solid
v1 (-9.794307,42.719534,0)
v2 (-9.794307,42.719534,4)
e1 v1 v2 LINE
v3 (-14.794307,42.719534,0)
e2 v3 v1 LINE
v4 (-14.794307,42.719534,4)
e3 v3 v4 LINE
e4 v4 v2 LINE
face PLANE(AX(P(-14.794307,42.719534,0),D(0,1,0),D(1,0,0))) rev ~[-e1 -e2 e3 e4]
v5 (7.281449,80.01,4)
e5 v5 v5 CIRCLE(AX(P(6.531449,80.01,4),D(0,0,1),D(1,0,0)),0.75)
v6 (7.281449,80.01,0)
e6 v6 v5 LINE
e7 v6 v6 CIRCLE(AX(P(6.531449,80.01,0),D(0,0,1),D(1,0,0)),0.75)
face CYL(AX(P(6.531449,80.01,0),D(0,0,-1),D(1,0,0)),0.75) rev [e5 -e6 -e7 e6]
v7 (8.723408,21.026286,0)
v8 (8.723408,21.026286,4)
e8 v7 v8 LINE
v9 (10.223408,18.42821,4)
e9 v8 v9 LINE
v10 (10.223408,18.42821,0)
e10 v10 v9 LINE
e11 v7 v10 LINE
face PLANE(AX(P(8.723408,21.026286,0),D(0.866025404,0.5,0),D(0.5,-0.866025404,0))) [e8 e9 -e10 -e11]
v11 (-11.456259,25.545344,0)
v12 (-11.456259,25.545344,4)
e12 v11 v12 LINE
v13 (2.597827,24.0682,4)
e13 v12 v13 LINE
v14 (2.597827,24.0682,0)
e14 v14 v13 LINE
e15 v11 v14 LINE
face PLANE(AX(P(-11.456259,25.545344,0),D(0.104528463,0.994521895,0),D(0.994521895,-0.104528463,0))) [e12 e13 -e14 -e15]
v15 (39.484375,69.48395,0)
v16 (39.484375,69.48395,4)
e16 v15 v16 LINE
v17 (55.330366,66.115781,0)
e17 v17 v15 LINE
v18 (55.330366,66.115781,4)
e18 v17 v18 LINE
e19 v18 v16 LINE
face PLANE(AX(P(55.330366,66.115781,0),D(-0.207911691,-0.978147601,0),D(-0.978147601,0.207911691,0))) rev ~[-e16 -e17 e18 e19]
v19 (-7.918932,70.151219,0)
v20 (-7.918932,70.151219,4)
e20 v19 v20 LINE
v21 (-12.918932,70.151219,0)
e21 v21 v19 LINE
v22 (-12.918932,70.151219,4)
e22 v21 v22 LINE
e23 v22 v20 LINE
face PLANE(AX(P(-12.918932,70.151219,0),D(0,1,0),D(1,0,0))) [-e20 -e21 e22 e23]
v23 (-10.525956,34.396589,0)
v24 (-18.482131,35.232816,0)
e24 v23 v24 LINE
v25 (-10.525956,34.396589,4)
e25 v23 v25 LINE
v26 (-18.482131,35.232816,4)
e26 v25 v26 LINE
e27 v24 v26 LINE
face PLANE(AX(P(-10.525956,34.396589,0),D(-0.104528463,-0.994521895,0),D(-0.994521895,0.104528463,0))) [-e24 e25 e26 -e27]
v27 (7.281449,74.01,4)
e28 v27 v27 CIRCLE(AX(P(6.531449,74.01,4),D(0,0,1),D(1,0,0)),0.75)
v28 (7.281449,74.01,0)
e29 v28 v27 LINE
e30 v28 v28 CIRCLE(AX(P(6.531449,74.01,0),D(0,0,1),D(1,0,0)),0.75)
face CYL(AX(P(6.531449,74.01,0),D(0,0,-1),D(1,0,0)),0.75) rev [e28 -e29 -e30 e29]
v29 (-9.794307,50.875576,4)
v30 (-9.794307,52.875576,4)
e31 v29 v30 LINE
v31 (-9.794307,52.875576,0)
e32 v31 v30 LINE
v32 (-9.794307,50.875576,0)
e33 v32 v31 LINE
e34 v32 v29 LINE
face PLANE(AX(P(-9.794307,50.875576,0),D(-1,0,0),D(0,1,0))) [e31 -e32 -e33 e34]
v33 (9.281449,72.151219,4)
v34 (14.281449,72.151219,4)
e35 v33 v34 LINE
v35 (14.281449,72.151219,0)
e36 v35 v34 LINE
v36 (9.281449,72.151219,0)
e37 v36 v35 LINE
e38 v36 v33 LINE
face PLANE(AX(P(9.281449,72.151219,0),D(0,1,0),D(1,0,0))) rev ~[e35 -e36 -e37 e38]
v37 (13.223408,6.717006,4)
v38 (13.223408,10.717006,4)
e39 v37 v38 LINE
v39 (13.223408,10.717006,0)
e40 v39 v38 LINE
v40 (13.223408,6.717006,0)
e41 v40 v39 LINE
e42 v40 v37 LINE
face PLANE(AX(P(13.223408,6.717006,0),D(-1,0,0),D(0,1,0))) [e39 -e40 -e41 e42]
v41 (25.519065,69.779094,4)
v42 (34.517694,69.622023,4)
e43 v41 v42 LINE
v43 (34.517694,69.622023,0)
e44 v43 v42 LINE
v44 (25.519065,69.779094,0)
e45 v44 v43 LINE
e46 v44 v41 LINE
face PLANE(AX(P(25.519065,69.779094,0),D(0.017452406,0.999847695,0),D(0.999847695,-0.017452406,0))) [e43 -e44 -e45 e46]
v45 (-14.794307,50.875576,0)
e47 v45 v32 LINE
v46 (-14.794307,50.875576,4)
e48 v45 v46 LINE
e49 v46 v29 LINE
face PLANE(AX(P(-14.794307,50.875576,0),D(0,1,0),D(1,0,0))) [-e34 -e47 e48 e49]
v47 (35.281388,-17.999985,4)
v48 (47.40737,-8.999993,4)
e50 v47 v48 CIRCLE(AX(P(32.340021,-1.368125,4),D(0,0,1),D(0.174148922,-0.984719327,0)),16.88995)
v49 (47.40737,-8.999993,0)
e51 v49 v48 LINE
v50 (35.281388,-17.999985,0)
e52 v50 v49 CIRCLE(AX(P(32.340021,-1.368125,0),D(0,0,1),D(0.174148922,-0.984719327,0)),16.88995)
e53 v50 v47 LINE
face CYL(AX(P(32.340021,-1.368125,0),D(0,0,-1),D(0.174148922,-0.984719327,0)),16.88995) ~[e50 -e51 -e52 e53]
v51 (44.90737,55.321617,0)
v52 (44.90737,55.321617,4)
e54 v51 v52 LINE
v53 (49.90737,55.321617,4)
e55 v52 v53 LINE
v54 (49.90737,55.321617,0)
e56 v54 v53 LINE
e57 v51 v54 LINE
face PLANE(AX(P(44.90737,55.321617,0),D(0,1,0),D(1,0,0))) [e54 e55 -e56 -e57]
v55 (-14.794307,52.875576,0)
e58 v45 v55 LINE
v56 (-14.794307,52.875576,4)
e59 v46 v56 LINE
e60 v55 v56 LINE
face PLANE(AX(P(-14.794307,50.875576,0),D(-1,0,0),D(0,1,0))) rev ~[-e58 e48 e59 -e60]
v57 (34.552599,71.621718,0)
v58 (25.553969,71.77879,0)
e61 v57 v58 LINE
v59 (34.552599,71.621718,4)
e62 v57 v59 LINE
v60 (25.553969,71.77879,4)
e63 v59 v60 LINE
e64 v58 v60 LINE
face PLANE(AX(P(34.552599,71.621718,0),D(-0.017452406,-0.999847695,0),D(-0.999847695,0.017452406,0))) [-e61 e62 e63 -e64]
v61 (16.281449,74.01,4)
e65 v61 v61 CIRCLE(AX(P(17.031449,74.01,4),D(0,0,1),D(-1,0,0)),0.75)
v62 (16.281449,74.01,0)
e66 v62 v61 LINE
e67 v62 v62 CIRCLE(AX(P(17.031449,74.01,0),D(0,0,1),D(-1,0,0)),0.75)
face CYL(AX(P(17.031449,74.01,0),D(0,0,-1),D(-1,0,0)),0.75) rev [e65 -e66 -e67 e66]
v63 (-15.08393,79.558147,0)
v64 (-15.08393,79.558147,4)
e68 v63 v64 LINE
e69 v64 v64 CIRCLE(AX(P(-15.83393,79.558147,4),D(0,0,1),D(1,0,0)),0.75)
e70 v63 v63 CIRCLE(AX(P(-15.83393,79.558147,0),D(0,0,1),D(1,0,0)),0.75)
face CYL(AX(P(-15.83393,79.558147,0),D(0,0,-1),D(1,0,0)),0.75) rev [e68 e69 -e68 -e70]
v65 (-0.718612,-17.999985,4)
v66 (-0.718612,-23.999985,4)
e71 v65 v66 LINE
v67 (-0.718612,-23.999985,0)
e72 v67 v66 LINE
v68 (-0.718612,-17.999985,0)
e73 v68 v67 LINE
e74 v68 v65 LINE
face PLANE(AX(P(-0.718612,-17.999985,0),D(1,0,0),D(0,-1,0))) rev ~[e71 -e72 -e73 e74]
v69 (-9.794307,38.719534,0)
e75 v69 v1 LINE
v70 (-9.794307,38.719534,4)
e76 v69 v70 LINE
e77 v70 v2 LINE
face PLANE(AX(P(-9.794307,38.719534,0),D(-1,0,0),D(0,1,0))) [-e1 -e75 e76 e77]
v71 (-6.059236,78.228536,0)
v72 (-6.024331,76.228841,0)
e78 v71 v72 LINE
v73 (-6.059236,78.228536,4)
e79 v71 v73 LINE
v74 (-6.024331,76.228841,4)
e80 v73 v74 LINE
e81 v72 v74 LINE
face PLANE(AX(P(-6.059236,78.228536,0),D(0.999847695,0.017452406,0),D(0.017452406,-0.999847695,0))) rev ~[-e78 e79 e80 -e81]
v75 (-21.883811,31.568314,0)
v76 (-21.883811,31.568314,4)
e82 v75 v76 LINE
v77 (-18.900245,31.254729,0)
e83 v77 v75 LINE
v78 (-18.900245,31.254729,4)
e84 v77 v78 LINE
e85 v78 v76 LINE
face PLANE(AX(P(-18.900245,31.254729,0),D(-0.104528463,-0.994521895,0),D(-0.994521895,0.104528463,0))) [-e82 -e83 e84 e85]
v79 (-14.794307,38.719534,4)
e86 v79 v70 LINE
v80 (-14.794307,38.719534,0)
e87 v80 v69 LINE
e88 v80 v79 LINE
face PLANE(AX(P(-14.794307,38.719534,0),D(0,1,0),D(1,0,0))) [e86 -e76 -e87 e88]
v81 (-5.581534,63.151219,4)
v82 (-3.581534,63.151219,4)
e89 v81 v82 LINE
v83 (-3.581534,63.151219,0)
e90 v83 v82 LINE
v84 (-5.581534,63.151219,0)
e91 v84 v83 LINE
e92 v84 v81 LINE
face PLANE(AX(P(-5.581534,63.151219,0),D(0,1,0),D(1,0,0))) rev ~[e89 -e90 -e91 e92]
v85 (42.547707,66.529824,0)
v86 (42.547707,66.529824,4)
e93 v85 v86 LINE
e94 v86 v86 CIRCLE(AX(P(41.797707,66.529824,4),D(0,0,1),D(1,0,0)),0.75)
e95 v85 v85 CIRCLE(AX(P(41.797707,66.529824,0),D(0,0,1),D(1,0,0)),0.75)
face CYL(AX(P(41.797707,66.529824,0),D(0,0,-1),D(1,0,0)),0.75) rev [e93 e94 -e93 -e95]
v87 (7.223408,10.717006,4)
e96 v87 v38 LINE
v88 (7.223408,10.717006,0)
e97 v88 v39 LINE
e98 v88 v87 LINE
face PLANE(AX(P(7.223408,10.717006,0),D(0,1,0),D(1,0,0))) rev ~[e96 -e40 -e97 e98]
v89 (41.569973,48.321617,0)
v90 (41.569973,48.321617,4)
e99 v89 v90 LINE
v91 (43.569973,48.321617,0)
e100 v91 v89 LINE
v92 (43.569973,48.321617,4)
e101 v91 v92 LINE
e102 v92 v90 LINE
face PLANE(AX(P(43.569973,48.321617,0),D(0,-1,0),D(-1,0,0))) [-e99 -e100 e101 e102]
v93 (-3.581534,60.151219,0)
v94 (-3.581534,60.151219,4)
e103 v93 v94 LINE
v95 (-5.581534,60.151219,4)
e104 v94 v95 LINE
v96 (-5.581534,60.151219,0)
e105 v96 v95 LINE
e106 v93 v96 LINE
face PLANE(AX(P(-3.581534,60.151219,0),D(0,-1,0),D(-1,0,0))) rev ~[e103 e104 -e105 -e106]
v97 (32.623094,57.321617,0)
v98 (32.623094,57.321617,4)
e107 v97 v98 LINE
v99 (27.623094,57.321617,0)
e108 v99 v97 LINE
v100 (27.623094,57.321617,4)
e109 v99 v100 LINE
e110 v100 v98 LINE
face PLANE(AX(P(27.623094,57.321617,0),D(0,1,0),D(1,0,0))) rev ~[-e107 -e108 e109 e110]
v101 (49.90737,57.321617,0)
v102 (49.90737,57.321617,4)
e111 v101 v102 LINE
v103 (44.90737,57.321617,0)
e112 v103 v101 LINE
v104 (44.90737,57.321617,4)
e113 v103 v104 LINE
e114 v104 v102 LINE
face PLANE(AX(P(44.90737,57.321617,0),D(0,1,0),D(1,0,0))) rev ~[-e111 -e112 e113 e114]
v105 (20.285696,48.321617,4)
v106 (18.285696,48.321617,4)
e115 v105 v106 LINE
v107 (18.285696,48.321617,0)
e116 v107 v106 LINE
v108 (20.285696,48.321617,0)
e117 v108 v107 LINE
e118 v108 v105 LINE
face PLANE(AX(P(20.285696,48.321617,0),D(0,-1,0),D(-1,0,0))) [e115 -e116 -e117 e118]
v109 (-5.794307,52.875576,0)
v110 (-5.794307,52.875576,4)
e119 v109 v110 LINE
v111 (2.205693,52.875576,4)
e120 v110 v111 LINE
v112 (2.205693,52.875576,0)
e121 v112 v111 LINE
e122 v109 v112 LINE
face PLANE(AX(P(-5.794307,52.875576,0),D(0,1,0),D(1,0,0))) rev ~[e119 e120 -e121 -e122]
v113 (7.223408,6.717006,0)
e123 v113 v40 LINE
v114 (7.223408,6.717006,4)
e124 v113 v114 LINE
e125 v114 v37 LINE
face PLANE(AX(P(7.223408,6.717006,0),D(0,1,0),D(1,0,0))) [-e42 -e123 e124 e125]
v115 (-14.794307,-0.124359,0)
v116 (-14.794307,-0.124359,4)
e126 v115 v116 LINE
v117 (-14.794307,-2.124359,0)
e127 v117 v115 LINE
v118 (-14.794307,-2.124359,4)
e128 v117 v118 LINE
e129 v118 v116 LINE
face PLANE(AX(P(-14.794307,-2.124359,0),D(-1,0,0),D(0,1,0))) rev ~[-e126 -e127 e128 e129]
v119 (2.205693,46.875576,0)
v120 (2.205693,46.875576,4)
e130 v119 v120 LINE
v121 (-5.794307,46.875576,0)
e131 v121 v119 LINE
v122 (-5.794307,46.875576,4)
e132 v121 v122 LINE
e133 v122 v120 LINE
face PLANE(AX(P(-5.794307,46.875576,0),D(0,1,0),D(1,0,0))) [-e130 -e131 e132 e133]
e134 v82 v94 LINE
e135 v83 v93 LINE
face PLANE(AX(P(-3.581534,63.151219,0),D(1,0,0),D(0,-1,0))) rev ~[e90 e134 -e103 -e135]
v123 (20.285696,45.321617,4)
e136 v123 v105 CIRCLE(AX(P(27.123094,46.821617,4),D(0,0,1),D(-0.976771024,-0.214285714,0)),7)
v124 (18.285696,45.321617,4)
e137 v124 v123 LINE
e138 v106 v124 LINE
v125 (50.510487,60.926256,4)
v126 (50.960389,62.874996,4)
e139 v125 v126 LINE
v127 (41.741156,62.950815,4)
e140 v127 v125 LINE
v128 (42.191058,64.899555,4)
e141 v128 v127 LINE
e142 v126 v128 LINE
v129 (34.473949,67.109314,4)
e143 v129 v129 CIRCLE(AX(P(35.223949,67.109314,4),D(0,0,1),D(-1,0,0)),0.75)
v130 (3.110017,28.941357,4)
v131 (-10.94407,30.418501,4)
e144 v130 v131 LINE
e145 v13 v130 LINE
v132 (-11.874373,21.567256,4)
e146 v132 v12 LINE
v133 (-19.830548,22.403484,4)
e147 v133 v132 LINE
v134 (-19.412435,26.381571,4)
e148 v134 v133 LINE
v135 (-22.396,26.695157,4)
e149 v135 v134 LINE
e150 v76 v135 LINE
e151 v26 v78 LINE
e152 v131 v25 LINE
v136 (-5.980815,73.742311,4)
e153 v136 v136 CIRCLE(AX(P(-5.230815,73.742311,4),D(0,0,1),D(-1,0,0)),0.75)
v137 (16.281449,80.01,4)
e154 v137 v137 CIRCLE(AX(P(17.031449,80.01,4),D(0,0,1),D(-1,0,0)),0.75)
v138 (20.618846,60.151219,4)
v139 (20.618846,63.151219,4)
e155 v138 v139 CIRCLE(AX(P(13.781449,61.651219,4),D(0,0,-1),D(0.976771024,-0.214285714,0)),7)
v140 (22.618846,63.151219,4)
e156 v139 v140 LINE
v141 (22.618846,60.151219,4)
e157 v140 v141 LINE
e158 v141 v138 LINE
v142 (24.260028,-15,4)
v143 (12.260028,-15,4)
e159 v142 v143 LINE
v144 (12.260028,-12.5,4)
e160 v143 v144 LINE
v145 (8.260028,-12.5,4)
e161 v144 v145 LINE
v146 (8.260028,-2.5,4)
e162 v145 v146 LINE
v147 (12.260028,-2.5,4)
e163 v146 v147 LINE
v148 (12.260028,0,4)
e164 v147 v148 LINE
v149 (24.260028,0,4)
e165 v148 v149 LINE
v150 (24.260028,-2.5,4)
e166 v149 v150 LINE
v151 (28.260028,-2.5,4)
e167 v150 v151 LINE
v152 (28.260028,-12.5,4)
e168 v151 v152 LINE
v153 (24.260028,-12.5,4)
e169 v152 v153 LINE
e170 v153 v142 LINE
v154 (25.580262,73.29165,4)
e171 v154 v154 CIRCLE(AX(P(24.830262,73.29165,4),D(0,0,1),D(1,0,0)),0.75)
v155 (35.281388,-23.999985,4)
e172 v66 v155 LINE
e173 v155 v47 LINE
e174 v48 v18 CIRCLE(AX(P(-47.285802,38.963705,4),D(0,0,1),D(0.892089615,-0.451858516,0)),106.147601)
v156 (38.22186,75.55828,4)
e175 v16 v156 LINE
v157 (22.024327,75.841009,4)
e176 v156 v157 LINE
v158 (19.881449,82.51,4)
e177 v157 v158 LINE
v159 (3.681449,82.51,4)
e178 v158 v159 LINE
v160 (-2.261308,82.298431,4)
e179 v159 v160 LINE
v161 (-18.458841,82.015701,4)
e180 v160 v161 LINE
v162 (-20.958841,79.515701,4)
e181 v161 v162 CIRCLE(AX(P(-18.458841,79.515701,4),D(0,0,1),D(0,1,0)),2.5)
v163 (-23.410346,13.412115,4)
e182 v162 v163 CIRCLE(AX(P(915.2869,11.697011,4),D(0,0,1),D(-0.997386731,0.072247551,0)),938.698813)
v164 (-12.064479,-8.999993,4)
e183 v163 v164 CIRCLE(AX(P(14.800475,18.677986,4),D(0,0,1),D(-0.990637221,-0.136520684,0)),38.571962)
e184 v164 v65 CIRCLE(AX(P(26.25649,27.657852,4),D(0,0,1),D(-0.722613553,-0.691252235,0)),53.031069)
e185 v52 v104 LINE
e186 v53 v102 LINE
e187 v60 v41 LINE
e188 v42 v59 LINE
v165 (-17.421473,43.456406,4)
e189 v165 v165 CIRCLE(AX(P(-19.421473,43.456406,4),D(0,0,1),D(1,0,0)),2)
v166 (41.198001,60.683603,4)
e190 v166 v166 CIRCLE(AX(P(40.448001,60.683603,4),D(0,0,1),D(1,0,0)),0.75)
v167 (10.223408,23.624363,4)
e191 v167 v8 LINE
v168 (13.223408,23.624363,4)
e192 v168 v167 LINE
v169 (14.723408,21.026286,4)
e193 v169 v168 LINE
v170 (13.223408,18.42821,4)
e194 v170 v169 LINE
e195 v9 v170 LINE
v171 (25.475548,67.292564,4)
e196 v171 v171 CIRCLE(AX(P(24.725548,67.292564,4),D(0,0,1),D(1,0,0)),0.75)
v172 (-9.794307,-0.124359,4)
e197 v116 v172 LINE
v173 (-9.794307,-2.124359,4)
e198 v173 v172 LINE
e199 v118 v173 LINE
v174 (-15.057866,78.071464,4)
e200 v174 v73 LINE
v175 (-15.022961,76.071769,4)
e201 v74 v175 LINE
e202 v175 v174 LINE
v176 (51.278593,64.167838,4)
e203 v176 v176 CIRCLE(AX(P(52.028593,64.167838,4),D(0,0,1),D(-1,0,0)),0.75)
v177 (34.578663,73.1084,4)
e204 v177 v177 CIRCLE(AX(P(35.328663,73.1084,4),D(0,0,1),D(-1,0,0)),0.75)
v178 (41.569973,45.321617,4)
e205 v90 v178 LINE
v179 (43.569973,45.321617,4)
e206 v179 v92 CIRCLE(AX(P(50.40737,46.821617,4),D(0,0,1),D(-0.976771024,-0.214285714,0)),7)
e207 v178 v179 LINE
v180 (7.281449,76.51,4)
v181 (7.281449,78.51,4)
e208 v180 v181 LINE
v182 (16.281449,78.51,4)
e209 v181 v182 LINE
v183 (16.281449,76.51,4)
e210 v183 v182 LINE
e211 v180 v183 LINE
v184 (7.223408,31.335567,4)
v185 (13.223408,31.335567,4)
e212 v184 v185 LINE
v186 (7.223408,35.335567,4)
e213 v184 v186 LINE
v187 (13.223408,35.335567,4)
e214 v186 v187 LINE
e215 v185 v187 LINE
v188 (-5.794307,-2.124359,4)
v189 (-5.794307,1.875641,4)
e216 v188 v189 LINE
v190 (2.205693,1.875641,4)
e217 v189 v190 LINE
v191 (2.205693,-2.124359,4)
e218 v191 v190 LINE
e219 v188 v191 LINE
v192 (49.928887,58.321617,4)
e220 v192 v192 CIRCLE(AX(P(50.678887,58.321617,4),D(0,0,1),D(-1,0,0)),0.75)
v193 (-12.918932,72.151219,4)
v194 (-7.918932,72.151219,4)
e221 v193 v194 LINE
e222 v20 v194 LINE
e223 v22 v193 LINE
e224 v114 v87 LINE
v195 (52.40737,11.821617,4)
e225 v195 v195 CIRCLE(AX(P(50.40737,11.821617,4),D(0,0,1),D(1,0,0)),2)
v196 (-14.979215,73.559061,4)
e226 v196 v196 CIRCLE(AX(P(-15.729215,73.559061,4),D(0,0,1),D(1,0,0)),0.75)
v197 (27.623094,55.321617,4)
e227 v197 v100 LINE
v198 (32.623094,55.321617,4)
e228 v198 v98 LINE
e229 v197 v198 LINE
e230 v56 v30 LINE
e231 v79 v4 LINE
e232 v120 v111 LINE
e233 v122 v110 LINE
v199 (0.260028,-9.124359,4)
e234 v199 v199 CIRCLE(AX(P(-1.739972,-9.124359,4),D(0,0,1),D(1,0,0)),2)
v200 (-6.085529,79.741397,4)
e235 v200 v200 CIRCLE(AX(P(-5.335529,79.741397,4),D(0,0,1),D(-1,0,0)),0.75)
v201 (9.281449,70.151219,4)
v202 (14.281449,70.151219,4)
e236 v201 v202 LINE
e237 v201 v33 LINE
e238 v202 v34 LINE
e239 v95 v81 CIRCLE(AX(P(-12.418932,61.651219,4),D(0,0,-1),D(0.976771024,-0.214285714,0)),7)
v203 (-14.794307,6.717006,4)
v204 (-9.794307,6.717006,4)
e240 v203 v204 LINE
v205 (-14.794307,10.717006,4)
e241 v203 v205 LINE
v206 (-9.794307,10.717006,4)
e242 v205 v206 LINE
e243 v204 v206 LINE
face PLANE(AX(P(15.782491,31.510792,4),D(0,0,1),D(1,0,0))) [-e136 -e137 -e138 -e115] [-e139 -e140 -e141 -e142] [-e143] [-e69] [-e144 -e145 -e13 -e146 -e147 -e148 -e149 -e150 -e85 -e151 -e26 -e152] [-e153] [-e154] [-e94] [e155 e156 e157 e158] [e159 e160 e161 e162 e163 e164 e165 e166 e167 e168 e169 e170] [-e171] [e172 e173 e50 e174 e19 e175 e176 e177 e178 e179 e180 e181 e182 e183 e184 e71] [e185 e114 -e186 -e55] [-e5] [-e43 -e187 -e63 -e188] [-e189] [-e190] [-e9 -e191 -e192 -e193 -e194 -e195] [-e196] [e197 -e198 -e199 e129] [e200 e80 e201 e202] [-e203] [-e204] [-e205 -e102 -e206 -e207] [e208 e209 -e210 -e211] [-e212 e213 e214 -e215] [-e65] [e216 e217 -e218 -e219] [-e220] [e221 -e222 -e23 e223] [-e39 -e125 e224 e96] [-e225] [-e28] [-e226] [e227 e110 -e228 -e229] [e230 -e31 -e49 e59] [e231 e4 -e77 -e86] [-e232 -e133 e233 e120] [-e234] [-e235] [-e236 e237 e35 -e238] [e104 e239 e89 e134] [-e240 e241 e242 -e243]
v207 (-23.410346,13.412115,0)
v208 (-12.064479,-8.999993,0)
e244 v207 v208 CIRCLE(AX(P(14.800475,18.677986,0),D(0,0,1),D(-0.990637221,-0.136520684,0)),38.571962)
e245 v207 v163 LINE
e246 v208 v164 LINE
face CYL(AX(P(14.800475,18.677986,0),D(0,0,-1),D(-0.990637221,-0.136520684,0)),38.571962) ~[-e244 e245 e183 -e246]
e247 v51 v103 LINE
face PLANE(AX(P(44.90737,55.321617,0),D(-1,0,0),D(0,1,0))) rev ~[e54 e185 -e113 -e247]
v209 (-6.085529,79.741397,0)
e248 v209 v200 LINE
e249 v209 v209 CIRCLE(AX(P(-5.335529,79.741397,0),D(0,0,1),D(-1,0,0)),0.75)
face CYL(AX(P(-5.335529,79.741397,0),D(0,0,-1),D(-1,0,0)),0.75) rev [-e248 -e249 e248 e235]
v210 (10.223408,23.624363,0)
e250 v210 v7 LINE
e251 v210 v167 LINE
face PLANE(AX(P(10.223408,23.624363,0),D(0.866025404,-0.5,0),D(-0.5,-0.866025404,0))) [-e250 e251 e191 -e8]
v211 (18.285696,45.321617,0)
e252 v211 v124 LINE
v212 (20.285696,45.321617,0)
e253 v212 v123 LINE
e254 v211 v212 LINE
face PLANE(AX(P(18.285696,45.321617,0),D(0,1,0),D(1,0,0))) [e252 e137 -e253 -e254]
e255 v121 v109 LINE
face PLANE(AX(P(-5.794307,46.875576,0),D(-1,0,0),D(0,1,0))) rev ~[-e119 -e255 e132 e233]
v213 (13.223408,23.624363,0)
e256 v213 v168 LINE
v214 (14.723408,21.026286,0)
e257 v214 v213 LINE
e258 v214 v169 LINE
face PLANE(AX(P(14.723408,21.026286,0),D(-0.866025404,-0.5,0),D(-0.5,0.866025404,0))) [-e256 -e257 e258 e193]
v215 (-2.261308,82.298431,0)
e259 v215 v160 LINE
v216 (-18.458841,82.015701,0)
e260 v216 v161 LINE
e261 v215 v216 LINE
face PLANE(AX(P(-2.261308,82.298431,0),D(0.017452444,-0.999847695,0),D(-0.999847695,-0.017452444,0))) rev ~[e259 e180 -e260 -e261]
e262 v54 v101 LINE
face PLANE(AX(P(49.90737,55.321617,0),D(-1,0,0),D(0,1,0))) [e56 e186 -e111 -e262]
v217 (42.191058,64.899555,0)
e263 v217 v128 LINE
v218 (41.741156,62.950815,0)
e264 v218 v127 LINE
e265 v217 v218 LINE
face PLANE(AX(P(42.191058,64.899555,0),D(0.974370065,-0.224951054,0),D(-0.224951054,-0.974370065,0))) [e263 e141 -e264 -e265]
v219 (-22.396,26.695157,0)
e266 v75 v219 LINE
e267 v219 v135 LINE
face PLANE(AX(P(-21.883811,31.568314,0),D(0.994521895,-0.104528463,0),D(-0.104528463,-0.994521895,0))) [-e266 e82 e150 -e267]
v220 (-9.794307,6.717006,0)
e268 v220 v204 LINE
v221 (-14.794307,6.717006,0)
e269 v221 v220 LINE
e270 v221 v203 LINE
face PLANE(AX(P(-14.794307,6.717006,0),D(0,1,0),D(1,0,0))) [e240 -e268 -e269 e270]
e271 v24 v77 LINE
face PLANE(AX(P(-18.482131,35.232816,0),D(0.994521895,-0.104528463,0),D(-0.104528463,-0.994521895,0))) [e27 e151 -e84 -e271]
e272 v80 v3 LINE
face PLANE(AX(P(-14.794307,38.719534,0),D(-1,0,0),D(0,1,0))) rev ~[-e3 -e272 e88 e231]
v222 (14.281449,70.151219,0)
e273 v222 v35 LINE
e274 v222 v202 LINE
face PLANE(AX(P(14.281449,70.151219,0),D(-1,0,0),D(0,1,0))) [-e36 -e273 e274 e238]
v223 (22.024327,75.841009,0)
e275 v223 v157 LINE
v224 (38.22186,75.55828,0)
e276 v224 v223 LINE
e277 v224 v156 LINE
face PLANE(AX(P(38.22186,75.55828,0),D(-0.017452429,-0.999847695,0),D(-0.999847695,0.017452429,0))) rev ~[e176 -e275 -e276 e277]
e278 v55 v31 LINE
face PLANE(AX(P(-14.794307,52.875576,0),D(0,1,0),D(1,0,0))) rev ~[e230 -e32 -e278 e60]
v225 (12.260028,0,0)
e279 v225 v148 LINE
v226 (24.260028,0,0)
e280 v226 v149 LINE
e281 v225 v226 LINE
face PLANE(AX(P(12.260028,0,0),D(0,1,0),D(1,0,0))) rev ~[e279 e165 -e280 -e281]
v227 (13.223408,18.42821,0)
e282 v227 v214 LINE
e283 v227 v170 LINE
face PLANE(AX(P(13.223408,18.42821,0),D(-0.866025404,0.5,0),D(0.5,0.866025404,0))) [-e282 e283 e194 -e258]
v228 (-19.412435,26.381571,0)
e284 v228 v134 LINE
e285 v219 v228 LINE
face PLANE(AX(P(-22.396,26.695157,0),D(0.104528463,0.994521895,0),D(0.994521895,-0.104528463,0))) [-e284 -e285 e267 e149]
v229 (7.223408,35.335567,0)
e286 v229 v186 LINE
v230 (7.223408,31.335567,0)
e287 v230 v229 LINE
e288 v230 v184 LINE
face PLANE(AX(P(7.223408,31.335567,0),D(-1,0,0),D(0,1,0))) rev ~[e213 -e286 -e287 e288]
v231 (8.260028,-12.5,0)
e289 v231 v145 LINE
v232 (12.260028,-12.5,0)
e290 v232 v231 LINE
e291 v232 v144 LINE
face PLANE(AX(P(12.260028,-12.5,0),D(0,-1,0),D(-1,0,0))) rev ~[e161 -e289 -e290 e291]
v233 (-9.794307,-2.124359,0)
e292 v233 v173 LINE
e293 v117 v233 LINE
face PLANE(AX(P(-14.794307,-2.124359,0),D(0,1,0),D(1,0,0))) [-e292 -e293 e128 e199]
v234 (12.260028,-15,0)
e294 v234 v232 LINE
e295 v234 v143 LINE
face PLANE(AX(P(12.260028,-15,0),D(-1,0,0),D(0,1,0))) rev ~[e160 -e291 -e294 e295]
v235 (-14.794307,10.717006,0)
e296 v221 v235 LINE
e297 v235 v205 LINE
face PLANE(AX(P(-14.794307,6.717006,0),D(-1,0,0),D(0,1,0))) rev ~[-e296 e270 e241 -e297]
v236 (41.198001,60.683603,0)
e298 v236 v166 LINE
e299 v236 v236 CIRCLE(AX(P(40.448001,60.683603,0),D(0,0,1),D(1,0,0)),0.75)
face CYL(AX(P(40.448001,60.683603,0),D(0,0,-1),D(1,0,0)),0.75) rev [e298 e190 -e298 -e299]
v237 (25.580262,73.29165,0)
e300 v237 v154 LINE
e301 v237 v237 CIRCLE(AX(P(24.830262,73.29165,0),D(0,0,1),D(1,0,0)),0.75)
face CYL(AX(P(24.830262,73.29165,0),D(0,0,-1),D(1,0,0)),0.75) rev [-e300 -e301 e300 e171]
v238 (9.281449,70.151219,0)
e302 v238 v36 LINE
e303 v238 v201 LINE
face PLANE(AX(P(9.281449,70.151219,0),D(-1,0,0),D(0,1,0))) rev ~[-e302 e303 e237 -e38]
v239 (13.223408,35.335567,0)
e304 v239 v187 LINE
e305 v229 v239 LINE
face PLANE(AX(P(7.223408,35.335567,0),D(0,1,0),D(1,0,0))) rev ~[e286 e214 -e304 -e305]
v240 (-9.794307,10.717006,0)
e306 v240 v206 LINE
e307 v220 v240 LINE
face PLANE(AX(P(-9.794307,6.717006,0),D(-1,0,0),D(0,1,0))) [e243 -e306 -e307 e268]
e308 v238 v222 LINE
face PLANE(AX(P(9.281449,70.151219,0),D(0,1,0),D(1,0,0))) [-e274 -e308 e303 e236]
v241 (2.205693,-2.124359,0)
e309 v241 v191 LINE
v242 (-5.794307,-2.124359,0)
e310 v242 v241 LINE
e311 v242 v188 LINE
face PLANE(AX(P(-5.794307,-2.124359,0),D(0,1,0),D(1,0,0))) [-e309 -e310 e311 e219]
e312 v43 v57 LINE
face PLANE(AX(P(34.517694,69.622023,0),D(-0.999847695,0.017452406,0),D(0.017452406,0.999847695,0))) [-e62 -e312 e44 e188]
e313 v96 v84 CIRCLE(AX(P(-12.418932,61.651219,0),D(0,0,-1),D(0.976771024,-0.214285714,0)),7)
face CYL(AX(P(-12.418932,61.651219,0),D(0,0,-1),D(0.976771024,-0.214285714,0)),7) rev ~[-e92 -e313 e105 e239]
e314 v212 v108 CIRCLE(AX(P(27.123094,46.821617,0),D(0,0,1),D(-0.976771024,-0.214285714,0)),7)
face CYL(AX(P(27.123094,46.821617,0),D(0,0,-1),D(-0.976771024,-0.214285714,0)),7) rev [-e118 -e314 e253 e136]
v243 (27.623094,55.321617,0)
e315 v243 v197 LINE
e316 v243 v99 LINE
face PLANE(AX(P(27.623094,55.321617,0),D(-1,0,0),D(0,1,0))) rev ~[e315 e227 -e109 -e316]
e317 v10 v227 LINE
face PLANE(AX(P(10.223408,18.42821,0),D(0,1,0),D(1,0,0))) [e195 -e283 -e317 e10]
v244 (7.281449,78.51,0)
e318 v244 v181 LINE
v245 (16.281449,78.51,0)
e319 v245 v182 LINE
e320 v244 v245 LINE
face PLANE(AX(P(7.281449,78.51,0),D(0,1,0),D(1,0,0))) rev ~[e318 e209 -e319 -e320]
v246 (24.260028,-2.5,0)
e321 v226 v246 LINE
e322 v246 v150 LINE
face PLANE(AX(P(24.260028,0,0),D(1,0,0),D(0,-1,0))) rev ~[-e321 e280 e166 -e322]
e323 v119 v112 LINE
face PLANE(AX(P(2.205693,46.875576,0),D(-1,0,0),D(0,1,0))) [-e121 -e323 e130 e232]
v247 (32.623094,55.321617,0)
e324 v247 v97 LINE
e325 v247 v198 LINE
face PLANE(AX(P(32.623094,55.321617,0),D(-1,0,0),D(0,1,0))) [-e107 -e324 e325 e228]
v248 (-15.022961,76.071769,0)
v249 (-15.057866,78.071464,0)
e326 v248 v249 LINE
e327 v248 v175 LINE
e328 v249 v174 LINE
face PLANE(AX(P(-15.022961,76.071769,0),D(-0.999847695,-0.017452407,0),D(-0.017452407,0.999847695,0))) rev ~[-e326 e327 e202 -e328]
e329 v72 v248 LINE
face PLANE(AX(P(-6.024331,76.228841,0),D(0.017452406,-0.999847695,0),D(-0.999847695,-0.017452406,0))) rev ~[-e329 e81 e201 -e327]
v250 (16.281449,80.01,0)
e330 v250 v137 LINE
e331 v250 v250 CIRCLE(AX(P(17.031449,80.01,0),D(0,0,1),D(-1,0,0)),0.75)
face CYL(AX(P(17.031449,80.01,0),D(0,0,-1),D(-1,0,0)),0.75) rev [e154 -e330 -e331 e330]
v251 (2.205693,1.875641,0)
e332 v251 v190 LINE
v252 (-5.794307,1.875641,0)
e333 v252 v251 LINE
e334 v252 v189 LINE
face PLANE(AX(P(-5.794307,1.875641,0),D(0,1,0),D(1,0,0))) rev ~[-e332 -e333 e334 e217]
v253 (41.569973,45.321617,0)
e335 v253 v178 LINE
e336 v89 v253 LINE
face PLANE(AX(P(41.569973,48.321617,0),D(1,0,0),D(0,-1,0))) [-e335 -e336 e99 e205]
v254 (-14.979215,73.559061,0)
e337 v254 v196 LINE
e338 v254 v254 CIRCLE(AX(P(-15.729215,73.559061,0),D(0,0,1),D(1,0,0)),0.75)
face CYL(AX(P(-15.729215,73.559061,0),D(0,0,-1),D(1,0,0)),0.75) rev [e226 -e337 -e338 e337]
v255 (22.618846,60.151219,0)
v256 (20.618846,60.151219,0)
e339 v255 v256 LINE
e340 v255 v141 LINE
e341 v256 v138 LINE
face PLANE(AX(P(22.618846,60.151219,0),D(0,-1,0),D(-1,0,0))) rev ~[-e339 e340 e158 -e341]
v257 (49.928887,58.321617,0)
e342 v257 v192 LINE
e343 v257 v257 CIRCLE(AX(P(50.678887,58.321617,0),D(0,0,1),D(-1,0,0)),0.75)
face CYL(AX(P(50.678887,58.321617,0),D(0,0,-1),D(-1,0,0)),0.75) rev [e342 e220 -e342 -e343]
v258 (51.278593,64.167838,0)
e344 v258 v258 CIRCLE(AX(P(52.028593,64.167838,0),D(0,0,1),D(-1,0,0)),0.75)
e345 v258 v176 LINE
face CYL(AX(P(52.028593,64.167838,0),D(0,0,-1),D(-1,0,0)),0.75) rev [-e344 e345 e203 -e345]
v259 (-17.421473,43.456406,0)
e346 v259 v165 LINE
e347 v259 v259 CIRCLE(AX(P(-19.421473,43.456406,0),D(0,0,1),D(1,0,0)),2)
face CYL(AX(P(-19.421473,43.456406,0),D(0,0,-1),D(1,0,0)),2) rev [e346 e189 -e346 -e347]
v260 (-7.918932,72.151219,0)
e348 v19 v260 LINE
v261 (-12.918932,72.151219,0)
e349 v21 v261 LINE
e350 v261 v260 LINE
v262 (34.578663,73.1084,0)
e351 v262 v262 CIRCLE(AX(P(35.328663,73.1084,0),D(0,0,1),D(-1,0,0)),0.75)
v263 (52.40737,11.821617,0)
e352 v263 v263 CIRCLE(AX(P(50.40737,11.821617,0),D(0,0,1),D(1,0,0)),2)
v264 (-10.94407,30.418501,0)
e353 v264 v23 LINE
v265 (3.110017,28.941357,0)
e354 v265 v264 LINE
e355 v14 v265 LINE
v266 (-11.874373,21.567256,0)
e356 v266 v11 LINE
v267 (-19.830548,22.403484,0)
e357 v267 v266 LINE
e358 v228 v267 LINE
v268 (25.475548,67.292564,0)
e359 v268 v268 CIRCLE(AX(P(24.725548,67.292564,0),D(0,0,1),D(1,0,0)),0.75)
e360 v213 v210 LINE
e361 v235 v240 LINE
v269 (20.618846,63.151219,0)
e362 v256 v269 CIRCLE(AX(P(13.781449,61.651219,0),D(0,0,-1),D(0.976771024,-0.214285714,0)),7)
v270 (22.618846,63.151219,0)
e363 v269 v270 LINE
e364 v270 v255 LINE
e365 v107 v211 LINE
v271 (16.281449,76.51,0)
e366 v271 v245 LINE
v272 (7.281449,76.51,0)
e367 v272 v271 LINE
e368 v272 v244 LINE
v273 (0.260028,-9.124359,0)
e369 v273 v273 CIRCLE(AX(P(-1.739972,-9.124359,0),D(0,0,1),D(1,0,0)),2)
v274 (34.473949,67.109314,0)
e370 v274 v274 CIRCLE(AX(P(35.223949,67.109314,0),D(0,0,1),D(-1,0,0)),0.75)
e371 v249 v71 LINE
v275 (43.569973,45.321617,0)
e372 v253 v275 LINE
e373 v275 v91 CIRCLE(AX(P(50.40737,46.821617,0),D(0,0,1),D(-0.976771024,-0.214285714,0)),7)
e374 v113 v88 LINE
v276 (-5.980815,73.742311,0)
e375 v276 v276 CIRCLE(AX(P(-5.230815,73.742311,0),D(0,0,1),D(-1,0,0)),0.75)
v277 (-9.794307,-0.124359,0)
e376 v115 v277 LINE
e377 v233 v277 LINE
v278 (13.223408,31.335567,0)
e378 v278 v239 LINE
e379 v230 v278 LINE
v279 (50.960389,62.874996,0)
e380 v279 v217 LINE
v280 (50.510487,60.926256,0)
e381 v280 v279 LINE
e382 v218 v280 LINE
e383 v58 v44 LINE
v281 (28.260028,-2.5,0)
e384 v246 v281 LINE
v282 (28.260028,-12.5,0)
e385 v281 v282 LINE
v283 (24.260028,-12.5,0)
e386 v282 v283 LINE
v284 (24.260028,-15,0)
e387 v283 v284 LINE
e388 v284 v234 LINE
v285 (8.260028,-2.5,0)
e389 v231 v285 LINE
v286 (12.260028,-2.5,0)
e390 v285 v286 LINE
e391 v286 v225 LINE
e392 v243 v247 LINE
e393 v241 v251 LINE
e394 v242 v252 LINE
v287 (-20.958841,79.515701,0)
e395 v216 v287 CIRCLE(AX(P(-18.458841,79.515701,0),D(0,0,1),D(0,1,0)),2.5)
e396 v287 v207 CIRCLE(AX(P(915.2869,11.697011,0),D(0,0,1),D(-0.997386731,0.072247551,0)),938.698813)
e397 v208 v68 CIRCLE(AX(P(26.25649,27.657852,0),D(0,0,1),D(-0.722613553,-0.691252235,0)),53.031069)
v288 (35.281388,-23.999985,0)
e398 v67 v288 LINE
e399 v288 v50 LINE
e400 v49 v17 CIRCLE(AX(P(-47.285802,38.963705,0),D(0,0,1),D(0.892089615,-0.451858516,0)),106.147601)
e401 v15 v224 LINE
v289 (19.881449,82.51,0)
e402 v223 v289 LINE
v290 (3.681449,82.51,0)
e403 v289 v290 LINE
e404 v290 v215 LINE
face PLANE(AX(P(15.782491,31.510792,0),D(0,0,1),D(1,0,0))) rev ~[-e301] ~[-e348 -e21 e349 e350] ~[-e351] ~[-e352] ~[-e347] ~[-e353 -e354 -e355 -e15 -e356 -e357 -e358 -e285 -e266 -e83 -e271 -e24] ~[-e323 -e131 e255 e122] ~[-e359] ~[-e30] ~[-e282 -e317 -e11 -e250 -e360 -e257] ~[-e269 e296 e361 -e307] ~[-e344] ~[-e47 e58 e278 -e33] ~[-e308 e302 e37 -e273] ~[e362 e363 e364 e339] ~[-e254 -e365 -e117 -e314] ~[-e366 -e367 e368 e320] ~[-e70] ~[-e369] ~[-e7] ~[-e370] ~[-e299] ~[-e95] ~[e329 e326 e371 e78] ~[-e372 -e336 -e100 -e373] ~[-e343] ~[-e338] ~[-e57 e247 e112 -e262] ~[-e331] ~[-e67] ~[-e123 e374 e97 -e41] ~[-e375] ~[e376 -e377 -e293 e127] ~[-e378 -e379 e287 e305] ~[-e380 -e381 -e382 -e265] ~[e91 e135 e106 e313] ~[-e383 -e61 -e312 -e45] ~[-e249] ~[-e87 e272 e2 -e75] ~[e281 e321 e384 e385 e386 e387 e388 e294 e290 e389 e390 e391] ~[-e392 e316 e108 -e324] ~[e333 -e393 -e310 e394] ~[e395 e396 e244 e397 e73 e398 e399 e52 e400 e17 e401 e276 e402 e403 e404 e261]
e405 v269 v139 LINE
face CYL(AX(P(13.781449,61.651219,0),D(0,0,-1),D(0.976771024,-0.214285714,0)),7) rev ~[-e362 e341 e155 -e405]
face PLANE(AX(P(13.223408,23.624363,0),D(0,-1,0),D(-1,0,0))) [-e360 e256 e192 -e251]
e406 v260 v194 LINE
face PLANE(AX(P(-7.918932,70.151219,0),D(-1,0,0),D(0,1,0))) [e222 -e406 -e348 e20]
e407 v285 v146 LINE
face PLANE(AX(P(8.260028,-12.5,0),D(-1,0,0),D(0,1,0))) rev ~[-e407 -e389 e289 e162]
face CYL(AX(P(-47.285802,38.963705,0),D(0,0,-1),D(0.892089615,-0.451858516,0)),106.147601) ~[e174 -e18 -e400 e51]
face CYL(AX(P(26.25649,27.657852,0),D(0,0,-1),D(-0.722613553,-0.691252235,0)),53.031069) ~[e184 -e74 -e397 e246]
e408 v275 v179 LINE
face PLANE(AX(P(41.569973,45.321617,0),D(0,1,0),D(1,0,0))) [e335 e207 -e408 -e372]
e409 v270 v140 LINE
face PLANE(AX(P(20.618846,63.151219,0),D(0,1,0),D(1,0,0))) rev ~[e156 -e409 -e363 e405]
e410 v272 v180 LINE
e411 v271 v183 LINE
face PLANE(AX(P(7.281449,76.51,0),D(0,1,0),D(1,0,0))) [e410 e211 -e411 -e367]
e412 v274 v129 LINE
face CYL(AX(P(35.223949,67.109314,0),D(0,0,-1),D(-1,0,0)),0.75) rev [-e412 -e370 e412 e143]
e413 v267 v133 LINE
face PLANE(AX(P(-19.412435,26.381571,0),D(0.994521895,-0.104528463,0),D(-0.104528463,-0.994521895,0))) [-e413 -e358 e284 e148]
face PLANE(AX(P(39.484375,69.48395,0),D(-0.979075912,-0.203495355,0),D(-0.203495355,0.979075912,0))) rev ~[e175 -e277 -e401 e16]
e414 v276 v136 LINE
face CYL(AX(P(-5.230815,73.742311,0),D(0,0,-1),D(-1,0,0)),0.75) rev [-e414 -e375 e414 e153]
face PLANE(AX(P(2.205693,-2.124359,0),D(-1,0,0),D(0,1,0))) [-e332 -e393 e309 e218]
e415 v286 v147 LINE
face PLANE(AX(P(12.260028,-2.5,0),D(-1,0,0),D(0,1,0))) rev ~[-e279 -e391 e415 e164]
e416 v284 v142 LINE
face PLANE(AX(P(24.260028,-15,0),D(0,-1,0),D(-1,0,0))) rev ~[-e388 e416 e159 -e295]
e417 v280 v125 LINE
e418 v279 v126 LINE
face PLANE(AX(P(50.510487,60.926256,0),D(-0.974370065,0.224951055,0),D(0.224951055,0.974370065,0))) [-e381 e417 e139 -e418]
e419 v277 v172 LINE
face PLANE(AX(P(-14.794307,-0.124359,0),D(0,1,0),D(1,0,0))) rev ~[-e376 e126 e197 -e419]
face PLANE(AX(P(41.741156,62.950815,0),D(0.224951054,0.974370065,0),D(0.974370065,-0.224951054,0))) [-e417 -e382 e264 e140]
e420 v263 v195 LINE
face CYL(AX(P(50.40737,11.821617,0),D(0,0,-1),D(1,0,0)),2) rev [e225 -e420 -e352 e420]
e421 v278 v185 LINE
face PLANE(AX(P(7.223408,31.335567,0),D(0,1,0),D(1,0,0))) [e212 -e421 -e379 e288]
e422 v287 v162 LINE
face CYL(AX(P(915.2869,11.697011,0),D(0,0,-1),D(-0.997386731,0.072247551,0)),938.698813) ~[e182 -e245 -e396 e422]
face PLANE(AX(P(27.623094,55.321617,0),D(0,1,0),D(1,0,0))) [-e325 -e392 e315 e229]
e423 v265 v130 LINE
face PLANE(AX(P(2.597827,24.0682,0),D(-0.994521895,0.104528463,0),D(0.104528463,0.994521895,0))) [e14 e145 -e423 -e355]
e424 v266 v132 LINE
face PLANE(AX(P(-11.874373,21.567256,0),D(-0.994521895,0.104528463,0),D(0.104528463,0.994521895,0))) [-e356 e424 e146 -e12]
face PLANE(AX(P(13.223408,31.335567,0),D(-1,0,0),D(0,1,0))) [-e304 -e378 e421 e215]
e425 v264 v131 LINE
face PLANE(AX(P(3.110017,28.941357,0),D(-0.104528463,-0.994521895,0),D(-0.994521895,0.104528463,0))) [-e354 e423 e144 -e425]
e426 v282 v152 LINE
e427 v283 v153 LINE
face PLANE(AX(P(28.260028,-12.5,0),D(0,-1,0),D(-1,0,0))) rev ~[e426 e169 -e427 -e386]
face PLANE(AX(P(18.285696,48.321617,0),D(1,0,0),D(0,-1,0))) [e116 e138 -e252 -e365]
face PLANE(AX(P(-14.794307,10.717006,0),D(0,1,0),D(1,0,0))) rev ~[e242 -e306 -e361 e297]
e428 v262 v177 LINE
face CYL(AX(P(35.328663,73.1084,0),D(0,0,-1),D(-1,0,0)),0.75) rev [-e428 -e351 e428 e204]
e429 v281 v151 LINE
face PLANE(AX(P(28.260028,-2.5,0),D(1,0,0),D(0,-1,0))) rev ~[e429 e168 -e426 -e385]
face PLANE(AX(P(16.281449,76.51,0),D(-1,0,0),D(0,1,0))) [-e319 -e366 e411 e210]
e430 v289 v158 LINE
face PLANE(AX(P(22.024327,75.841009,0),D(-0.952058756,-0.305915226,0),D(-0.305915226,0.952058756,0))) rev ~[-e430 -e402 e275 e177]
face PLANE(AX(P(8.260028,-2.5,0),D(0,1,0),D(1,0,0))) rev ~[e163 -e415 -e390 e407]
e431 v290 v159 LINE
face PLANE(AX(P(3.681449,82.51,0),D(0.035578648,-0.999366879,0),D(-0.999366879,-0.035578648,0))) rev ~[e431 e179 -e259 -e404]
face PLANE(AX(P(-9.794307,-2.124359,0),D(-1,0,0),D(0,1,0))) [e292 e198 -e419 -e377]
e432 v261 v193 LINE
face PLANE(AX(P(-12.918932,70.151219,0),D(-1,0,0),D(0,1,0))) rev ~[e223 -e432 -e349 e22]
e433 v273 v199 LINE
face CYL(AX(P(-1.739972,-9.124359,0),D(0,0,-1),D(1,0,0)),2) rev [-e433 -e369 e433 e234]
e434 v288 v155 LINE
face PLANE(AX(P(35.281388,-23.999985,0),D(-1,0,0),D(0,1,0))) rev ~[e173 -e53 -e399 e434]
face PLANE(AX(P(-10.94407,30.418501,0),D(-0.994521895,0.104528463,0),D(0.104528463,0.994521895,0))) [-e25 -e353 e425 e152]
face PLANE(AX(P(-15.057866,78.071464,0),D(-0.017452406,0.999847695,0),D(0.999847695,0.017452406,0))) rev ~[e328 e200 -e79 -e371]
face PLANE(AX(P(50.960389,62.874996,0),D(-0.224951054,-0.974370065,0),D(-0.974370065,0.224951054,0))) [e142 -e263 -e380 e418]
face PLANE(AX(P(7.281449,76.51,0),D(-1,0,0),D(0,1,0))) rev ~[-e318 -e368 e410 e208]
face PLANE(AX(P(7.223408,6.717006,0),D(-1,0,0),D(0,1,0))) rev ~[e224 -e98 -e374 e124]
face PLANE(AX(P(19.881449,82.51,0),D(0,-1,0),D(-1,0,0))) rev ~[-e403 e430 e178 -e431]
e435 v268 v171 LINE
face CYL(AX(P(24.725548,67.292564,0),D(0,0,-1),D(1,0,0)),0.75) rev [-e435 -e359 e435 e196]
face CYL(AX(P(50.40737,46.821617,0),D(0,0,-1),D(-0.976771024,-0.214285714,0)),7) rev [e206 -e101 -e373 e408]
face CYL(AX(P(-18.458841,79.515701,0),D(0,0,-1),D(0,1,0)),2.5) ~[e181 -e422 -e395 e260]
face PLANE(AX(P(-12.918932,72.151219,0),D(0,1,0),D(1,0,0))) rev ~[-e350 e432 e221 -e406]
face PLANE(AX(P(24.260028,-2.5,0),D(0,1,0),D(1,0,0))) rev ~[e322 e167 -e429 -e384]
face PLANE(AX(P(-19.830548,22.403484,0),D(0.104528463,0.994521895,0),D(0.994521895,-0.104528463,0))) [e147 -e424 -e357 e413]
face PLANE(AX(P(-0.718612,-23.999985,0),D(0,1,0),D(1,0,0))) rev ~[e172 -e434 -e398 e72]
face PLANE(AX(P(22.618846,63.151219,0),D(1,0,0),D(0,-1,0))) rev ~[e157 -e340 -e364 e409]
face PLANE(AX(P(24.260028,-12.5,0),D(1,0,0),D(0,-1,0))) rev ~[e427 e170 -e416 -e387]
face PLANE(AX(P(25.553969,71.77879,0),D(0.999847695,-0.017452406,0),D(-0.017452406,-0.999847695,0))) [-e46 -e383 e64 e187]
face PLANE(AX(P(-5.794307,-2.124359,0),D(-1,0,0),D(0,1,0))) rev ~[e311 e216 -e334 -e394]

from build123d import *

# Parameters (mm, degrees)
SKETCH1_R           = 2
SKETCH1_R_2         = 0.75
SKETCH1_W           = 9
SKETCH1_H           = 2
SKETCH1_W_2         = 5
SKETCH1_W_3         = 8
SKETCH1_H_2         = 6
SKETCH1_H_3         = 4
SKETCH1_W_4         = 6
BOSS_EXTRUDE1_DEPTH = 4


with BuildPart() as part:
    # Sketch1 → Boss-Extrude1 (new body)
    with BuildSketch(Plane.XY):
        with BuildLine():
            Line((-0.718612481, -17.999985362), (-0.718612481, -23.999985362))
            Line((-0.718612481, -23.999985362), (35.281387519, -23.999985362))
            Line((35.281387519, -23.999985362), (35.281387519, -17.999985362))
            ThreePointArc((35.281387519, -17.999985362), (42.406223237, -14.93064645), (47.407370228, -8.999992681))
            ThreePointArc((47.407370228, -8.999992681), (58.276211887, 27.829327454), (55.330365794, 66.115781082))
            Line((55.330365794, 66.115781082), (39.484374663, 69.483950474))
            Line((39.484374663, 69.483950474), (38.221859922, 75.558279649))
            Line((38.221859922, 75.558279649), (22.02432726, 75.841009004))
            Line((22.02432726, 75.841009004), (19.881449124, 82.510000006))
            Line((19.881449124, 82.510000006), (3.681449124, 82.510000006))
            Line((3.681449124, 82.510000006), (-2.261308264, 82.298430785))
            Line((-2.261308264, 82.298430785), (-18.458840926, 82.015701198))
            ThreePointArc((-18.458840926, 82.015701198), (-20.226607879, 81.283468151), (-20.958840926, 79.515701198))
            ThreePointArc((-20.958840926, 79.515701198), (-22.767055021, 46.485509252), (-23.410346484, 13.412115197))
            ThreePointArc((-23.410346484, 13.412115197), (-19.613036862, 1.256548647), (-12.064479482, -8.999992681))
            ThreePointArc((-12.064479482, -8.999992681), (-6.700212214, -13.889110006), (-0.718612481, -17.999985362))
        make_face()
        with Locations((50.407370195, 11.821617405)):
            Circle(SKETCH1_R, mode=Mode.SUBTRACT)
        with Locations((-1.739971548, -9.124358763)):
            Circle(SKETCH1_R, mode=Mode.SUBTRACT)
        with Locations((6.531449125, 80.01)):
            Circle(SKETCH1_R_2, mode=Mode.SUBTRACT)
        with Locations((-19.42147321, 43.456405989)):
            Circle(SKETCH1_R, mode=Mode.SUBTRACT)
        with Locations((17.031449125, 80.01)):
            Circle(SKETCH1_R_2, mode=Mode.SUBTRACT)
        with Locations((17.031449125, 74.01)):
            Circle(SKETCH1_R_2, mode=Mode.SUBTRACT)
        with Locations((6.531449125, 74.01)):
            Circle(SKETCH1_R_2, mode=Mode.SUBTRACT)
        with Locations((-15.833929885, 79.558146704)):
            Circle(SKETCH1_R_2, mode=Mode.SUBTRACT)
        with Locations((-5.335529086, 79.741396971)):
            Circle(SKETCH1_R_2, mode=Mode.SUBTRACT)
        with Locations((-15.729215446, 73.559060533)):
            Circle(SKETCH1_R_2, mode=Mode.SUBTRACT)
        with Locations((-5.230814647, 73.7423108)):
            Circle(SKETCH1_R_2, mode=Mode.SUBTRACT)
        with Locations((35.223948537, 67.109313963)):
            Circle(SKETCH1_R_2, mode=Mode.SUBTRACT)
        with Locations((24.725547738, 67.29256423)):
            Circle(SKETCH1_R_2, mode=Mode.SUBTRACT)
        with Locations((35.328662975, 73.108400134)):
            Circle(SKETCH1_R_2, mode=Mode.SUBTRACT)
        with Locations((24.830262176, 73.291650401)):
            Circle(SKETCH1_R_2, mode=Mode.SUBTRACT)
        with Locations((40.448000847, 60.683603476)):
            Circle(SKETCH1_R_2, mode=Mode.SUBTRACT)
        with Locations((52.028592853, 64.167837794)):
            Circle(SKETCH1_R_2, mode=Mode.SUBTRACT)
        with Locations((41.797707173, 66.529823865)):
            Circle(SKETCH1_R_2, mode=Mode.SUBTRACT)
        with Locations((50.678886527, 58.321617405)):
            Circle(SKETCH1_R_2, mode=Mode.SUBTRACT)
        with Locations((11.781449159, 77.509999643)):
            Rectangle(SKETCH1_W, SKETCH1_H, mode=Mode.SUBTRACT)
        Polygon((2.597827224, 24.068199743), (3.110016694, 28.94135703), (-10.944069886, 30.418501052), (-10.525956033, 34.396588634), (-18.482131196, 35.23281634), (-18.900245049, 31.254728759), (-21.883810735, 31.568314148), (-22.396000205, 26.695156861), (-19.412434519, 26.381571471), (-19.830548372, 22.40348389), (-11.874373209, 21.567256184), (-11.456259356, 25.545343765), align=None, mode=Mode.SUBTRACT)
        with BuildLine():
            Line((22.61884629, 63.151218734), (22.61884629, 60.151218734))
            Line((22.61884629, 60.151218734), (20.61884629, 60.151218734))
            ThreePointArc((20.61884629, 60.151218734), (6.781449125, 61.651218734), (20.61884629, 63.151218734))
            Line((20.61884629, 63.151218734), (22.61884629, 63.151218734))
        make_face(mode=Mode.SUBTRACT)
        with Locations((47.407370195, 56.321617405)):
            Rectangle(SKETCH1_W_2, SKETCH1_H, mode=Mode.SUBTRACT)
        with BuildLine():
            Line((-5.581534458, 63.151218734), (-3.581534458, 63.151218734))
            Line((-3.581534458, 63.151218734), (-3.581534458, 60.151218734))
            Line((-3.581534458, 60.151218734), (-5.581534458, 60.151218734))
            ThreePointArc((-5.581534458, 60.151218734), (-19.418931624, 61.651218734), (-5.581534458, 63.151218734))
        make_face(mode=Mode.SUBTRACT)
        Polygon((-15.057865504, 78.071464466), (-6.059236247, 78.228536124), (-6.024331434, 76.228840733), (-15.022960691, 76.071769076), align=None, mode=Mode.SUBTRACT)
        with Locations((-1.794306623, 49.875576367)):
            Rectangle(SKETCH1_W_3, SKETCH1_H_2, mode=Mode.SUBTRACT)
        with Locations((30.123093592, 56.321617405)):
            Rectangle(SKETCH1_W_2, SKETCH1_H, mode=Mode.SUBTRACT)
        with Locations((11.781449125, 71.151218734)):
            Rectangle(SKETCH1_W_2, SKETCH1_H, mode=Mode.SUBTRACT)
        Polygon((25.553969338, 71.778789554), (25.519064525, 69.779094163), (34.517693781, 69.622022505), (34.552598594, 71.621717896), align=None, mode=Mode.SUBTRACT)
        with BuildLine():
            Line((20.285696426, 48.321617405), (18.285696426, 48.321617405))
            Line((18.285696426, 48.321617405), (18.285696426, 45.321617405))
            Line((18.285696426, 45.321617405), (20.285696426, 45.321617405))
            ThreePointArc((20.285696426, 45.321617405), (34.123093592, 46.821617405), (20.285696426, 48.321617405))
        make_face(mode=Mode.SUBTRACT)
        Polygon((50.960388723, 62.874995987), (42.19105814, 64.899555477), (41.741156031, 62.950815347), (50.510486614, 60.926255858), align=None, mode=Mode.SUBTRACT)
        with BuildLine():
            Line((41.569973029, 45.321617405), (43.569973029, 45.321617405))
            ThreePointArc((43.569973029, 45.321617405), (57.407370195, 46.821617405), (43.569973029, 48.321617405))
            Line((43.569973029, 48.321617405), (41.569973029, 48.321617405))
            Line((41.569973029, 48.321617405), (41.569973029, 45.321617405))
        make_face(mode=Mode.SUBTRACT)
        with Locations((-10.418931624, 71.151218734)):
            Rectangle(SKETCH1_W_2, SKETCH1_H, mode=Mode.SUBTRACT)
        Polygon((8.260028452, -2.5), (12.260028452, -2.5), (12.260028452, 0), (24.260028452, 0), (24.260028452, -2.5), (28.260028452, -2.5), (28.260028452, -12.5), (24.260028452, -12.5), (24.260028452, -15), (12.260028452, -15), (12.260028452, -12.5), (8.260028452, -12.5), align=None, mode=Mode.SUBTRACT)
        with Locations((-12.294306623, 51.875576367)):
            Rectangle(SKETCH1_W_2, SKETCH1_H, mode=Mode.SUBTRACT)
        with Locations((-1.794306623, -0.124358763)):
            Rectangle(SKETCH1_W_3, SKETCH1_H_3, mode=Mode.SUBTRACT)
        with Locations((-12.294306623, -1.124358763)):
            Rectangle(SKETCH1_W_2, SKETCH1_H, mode=Mode.SUBTRACT)
        Polygon((14.723408467, 21.026286371), (13.223408467, 23.624362582), (10.223408467, 23.624362582), (8.723408467, 21.026286371), (10.223408467, 18.428210159), (13.223408467, 18.428210159), align=None, mode=Mode.SUBTRACT)
        with Locations((10.223408467, 8.717005814)):
            Rectangle(SKETCH1_W_4, SKETCH1_H_3, mode=Mode.SUBTRACT)
        with Locations((10.223408467, 33.335566927)):
            Rectangle(SKETCH1_W_4, SKETCH1_H_3, mode=Mode.SUBTRACT)
        with Locations((-12.294306623, 8.717005814)):
            Rectangle(SKETCH1_W_2, SKETCH1_H_3, mode=Mode.SUBTRACT)
        with Locations((-12.294306623, 40.719533555)):
            Rectangle(SKETCH1_W_2, SKETCH1_H_3, mode=Mode.SUBTRACT)
    extrude(amount=BOSS_EXTRUDE1_DEPTH)


solid = part.part
